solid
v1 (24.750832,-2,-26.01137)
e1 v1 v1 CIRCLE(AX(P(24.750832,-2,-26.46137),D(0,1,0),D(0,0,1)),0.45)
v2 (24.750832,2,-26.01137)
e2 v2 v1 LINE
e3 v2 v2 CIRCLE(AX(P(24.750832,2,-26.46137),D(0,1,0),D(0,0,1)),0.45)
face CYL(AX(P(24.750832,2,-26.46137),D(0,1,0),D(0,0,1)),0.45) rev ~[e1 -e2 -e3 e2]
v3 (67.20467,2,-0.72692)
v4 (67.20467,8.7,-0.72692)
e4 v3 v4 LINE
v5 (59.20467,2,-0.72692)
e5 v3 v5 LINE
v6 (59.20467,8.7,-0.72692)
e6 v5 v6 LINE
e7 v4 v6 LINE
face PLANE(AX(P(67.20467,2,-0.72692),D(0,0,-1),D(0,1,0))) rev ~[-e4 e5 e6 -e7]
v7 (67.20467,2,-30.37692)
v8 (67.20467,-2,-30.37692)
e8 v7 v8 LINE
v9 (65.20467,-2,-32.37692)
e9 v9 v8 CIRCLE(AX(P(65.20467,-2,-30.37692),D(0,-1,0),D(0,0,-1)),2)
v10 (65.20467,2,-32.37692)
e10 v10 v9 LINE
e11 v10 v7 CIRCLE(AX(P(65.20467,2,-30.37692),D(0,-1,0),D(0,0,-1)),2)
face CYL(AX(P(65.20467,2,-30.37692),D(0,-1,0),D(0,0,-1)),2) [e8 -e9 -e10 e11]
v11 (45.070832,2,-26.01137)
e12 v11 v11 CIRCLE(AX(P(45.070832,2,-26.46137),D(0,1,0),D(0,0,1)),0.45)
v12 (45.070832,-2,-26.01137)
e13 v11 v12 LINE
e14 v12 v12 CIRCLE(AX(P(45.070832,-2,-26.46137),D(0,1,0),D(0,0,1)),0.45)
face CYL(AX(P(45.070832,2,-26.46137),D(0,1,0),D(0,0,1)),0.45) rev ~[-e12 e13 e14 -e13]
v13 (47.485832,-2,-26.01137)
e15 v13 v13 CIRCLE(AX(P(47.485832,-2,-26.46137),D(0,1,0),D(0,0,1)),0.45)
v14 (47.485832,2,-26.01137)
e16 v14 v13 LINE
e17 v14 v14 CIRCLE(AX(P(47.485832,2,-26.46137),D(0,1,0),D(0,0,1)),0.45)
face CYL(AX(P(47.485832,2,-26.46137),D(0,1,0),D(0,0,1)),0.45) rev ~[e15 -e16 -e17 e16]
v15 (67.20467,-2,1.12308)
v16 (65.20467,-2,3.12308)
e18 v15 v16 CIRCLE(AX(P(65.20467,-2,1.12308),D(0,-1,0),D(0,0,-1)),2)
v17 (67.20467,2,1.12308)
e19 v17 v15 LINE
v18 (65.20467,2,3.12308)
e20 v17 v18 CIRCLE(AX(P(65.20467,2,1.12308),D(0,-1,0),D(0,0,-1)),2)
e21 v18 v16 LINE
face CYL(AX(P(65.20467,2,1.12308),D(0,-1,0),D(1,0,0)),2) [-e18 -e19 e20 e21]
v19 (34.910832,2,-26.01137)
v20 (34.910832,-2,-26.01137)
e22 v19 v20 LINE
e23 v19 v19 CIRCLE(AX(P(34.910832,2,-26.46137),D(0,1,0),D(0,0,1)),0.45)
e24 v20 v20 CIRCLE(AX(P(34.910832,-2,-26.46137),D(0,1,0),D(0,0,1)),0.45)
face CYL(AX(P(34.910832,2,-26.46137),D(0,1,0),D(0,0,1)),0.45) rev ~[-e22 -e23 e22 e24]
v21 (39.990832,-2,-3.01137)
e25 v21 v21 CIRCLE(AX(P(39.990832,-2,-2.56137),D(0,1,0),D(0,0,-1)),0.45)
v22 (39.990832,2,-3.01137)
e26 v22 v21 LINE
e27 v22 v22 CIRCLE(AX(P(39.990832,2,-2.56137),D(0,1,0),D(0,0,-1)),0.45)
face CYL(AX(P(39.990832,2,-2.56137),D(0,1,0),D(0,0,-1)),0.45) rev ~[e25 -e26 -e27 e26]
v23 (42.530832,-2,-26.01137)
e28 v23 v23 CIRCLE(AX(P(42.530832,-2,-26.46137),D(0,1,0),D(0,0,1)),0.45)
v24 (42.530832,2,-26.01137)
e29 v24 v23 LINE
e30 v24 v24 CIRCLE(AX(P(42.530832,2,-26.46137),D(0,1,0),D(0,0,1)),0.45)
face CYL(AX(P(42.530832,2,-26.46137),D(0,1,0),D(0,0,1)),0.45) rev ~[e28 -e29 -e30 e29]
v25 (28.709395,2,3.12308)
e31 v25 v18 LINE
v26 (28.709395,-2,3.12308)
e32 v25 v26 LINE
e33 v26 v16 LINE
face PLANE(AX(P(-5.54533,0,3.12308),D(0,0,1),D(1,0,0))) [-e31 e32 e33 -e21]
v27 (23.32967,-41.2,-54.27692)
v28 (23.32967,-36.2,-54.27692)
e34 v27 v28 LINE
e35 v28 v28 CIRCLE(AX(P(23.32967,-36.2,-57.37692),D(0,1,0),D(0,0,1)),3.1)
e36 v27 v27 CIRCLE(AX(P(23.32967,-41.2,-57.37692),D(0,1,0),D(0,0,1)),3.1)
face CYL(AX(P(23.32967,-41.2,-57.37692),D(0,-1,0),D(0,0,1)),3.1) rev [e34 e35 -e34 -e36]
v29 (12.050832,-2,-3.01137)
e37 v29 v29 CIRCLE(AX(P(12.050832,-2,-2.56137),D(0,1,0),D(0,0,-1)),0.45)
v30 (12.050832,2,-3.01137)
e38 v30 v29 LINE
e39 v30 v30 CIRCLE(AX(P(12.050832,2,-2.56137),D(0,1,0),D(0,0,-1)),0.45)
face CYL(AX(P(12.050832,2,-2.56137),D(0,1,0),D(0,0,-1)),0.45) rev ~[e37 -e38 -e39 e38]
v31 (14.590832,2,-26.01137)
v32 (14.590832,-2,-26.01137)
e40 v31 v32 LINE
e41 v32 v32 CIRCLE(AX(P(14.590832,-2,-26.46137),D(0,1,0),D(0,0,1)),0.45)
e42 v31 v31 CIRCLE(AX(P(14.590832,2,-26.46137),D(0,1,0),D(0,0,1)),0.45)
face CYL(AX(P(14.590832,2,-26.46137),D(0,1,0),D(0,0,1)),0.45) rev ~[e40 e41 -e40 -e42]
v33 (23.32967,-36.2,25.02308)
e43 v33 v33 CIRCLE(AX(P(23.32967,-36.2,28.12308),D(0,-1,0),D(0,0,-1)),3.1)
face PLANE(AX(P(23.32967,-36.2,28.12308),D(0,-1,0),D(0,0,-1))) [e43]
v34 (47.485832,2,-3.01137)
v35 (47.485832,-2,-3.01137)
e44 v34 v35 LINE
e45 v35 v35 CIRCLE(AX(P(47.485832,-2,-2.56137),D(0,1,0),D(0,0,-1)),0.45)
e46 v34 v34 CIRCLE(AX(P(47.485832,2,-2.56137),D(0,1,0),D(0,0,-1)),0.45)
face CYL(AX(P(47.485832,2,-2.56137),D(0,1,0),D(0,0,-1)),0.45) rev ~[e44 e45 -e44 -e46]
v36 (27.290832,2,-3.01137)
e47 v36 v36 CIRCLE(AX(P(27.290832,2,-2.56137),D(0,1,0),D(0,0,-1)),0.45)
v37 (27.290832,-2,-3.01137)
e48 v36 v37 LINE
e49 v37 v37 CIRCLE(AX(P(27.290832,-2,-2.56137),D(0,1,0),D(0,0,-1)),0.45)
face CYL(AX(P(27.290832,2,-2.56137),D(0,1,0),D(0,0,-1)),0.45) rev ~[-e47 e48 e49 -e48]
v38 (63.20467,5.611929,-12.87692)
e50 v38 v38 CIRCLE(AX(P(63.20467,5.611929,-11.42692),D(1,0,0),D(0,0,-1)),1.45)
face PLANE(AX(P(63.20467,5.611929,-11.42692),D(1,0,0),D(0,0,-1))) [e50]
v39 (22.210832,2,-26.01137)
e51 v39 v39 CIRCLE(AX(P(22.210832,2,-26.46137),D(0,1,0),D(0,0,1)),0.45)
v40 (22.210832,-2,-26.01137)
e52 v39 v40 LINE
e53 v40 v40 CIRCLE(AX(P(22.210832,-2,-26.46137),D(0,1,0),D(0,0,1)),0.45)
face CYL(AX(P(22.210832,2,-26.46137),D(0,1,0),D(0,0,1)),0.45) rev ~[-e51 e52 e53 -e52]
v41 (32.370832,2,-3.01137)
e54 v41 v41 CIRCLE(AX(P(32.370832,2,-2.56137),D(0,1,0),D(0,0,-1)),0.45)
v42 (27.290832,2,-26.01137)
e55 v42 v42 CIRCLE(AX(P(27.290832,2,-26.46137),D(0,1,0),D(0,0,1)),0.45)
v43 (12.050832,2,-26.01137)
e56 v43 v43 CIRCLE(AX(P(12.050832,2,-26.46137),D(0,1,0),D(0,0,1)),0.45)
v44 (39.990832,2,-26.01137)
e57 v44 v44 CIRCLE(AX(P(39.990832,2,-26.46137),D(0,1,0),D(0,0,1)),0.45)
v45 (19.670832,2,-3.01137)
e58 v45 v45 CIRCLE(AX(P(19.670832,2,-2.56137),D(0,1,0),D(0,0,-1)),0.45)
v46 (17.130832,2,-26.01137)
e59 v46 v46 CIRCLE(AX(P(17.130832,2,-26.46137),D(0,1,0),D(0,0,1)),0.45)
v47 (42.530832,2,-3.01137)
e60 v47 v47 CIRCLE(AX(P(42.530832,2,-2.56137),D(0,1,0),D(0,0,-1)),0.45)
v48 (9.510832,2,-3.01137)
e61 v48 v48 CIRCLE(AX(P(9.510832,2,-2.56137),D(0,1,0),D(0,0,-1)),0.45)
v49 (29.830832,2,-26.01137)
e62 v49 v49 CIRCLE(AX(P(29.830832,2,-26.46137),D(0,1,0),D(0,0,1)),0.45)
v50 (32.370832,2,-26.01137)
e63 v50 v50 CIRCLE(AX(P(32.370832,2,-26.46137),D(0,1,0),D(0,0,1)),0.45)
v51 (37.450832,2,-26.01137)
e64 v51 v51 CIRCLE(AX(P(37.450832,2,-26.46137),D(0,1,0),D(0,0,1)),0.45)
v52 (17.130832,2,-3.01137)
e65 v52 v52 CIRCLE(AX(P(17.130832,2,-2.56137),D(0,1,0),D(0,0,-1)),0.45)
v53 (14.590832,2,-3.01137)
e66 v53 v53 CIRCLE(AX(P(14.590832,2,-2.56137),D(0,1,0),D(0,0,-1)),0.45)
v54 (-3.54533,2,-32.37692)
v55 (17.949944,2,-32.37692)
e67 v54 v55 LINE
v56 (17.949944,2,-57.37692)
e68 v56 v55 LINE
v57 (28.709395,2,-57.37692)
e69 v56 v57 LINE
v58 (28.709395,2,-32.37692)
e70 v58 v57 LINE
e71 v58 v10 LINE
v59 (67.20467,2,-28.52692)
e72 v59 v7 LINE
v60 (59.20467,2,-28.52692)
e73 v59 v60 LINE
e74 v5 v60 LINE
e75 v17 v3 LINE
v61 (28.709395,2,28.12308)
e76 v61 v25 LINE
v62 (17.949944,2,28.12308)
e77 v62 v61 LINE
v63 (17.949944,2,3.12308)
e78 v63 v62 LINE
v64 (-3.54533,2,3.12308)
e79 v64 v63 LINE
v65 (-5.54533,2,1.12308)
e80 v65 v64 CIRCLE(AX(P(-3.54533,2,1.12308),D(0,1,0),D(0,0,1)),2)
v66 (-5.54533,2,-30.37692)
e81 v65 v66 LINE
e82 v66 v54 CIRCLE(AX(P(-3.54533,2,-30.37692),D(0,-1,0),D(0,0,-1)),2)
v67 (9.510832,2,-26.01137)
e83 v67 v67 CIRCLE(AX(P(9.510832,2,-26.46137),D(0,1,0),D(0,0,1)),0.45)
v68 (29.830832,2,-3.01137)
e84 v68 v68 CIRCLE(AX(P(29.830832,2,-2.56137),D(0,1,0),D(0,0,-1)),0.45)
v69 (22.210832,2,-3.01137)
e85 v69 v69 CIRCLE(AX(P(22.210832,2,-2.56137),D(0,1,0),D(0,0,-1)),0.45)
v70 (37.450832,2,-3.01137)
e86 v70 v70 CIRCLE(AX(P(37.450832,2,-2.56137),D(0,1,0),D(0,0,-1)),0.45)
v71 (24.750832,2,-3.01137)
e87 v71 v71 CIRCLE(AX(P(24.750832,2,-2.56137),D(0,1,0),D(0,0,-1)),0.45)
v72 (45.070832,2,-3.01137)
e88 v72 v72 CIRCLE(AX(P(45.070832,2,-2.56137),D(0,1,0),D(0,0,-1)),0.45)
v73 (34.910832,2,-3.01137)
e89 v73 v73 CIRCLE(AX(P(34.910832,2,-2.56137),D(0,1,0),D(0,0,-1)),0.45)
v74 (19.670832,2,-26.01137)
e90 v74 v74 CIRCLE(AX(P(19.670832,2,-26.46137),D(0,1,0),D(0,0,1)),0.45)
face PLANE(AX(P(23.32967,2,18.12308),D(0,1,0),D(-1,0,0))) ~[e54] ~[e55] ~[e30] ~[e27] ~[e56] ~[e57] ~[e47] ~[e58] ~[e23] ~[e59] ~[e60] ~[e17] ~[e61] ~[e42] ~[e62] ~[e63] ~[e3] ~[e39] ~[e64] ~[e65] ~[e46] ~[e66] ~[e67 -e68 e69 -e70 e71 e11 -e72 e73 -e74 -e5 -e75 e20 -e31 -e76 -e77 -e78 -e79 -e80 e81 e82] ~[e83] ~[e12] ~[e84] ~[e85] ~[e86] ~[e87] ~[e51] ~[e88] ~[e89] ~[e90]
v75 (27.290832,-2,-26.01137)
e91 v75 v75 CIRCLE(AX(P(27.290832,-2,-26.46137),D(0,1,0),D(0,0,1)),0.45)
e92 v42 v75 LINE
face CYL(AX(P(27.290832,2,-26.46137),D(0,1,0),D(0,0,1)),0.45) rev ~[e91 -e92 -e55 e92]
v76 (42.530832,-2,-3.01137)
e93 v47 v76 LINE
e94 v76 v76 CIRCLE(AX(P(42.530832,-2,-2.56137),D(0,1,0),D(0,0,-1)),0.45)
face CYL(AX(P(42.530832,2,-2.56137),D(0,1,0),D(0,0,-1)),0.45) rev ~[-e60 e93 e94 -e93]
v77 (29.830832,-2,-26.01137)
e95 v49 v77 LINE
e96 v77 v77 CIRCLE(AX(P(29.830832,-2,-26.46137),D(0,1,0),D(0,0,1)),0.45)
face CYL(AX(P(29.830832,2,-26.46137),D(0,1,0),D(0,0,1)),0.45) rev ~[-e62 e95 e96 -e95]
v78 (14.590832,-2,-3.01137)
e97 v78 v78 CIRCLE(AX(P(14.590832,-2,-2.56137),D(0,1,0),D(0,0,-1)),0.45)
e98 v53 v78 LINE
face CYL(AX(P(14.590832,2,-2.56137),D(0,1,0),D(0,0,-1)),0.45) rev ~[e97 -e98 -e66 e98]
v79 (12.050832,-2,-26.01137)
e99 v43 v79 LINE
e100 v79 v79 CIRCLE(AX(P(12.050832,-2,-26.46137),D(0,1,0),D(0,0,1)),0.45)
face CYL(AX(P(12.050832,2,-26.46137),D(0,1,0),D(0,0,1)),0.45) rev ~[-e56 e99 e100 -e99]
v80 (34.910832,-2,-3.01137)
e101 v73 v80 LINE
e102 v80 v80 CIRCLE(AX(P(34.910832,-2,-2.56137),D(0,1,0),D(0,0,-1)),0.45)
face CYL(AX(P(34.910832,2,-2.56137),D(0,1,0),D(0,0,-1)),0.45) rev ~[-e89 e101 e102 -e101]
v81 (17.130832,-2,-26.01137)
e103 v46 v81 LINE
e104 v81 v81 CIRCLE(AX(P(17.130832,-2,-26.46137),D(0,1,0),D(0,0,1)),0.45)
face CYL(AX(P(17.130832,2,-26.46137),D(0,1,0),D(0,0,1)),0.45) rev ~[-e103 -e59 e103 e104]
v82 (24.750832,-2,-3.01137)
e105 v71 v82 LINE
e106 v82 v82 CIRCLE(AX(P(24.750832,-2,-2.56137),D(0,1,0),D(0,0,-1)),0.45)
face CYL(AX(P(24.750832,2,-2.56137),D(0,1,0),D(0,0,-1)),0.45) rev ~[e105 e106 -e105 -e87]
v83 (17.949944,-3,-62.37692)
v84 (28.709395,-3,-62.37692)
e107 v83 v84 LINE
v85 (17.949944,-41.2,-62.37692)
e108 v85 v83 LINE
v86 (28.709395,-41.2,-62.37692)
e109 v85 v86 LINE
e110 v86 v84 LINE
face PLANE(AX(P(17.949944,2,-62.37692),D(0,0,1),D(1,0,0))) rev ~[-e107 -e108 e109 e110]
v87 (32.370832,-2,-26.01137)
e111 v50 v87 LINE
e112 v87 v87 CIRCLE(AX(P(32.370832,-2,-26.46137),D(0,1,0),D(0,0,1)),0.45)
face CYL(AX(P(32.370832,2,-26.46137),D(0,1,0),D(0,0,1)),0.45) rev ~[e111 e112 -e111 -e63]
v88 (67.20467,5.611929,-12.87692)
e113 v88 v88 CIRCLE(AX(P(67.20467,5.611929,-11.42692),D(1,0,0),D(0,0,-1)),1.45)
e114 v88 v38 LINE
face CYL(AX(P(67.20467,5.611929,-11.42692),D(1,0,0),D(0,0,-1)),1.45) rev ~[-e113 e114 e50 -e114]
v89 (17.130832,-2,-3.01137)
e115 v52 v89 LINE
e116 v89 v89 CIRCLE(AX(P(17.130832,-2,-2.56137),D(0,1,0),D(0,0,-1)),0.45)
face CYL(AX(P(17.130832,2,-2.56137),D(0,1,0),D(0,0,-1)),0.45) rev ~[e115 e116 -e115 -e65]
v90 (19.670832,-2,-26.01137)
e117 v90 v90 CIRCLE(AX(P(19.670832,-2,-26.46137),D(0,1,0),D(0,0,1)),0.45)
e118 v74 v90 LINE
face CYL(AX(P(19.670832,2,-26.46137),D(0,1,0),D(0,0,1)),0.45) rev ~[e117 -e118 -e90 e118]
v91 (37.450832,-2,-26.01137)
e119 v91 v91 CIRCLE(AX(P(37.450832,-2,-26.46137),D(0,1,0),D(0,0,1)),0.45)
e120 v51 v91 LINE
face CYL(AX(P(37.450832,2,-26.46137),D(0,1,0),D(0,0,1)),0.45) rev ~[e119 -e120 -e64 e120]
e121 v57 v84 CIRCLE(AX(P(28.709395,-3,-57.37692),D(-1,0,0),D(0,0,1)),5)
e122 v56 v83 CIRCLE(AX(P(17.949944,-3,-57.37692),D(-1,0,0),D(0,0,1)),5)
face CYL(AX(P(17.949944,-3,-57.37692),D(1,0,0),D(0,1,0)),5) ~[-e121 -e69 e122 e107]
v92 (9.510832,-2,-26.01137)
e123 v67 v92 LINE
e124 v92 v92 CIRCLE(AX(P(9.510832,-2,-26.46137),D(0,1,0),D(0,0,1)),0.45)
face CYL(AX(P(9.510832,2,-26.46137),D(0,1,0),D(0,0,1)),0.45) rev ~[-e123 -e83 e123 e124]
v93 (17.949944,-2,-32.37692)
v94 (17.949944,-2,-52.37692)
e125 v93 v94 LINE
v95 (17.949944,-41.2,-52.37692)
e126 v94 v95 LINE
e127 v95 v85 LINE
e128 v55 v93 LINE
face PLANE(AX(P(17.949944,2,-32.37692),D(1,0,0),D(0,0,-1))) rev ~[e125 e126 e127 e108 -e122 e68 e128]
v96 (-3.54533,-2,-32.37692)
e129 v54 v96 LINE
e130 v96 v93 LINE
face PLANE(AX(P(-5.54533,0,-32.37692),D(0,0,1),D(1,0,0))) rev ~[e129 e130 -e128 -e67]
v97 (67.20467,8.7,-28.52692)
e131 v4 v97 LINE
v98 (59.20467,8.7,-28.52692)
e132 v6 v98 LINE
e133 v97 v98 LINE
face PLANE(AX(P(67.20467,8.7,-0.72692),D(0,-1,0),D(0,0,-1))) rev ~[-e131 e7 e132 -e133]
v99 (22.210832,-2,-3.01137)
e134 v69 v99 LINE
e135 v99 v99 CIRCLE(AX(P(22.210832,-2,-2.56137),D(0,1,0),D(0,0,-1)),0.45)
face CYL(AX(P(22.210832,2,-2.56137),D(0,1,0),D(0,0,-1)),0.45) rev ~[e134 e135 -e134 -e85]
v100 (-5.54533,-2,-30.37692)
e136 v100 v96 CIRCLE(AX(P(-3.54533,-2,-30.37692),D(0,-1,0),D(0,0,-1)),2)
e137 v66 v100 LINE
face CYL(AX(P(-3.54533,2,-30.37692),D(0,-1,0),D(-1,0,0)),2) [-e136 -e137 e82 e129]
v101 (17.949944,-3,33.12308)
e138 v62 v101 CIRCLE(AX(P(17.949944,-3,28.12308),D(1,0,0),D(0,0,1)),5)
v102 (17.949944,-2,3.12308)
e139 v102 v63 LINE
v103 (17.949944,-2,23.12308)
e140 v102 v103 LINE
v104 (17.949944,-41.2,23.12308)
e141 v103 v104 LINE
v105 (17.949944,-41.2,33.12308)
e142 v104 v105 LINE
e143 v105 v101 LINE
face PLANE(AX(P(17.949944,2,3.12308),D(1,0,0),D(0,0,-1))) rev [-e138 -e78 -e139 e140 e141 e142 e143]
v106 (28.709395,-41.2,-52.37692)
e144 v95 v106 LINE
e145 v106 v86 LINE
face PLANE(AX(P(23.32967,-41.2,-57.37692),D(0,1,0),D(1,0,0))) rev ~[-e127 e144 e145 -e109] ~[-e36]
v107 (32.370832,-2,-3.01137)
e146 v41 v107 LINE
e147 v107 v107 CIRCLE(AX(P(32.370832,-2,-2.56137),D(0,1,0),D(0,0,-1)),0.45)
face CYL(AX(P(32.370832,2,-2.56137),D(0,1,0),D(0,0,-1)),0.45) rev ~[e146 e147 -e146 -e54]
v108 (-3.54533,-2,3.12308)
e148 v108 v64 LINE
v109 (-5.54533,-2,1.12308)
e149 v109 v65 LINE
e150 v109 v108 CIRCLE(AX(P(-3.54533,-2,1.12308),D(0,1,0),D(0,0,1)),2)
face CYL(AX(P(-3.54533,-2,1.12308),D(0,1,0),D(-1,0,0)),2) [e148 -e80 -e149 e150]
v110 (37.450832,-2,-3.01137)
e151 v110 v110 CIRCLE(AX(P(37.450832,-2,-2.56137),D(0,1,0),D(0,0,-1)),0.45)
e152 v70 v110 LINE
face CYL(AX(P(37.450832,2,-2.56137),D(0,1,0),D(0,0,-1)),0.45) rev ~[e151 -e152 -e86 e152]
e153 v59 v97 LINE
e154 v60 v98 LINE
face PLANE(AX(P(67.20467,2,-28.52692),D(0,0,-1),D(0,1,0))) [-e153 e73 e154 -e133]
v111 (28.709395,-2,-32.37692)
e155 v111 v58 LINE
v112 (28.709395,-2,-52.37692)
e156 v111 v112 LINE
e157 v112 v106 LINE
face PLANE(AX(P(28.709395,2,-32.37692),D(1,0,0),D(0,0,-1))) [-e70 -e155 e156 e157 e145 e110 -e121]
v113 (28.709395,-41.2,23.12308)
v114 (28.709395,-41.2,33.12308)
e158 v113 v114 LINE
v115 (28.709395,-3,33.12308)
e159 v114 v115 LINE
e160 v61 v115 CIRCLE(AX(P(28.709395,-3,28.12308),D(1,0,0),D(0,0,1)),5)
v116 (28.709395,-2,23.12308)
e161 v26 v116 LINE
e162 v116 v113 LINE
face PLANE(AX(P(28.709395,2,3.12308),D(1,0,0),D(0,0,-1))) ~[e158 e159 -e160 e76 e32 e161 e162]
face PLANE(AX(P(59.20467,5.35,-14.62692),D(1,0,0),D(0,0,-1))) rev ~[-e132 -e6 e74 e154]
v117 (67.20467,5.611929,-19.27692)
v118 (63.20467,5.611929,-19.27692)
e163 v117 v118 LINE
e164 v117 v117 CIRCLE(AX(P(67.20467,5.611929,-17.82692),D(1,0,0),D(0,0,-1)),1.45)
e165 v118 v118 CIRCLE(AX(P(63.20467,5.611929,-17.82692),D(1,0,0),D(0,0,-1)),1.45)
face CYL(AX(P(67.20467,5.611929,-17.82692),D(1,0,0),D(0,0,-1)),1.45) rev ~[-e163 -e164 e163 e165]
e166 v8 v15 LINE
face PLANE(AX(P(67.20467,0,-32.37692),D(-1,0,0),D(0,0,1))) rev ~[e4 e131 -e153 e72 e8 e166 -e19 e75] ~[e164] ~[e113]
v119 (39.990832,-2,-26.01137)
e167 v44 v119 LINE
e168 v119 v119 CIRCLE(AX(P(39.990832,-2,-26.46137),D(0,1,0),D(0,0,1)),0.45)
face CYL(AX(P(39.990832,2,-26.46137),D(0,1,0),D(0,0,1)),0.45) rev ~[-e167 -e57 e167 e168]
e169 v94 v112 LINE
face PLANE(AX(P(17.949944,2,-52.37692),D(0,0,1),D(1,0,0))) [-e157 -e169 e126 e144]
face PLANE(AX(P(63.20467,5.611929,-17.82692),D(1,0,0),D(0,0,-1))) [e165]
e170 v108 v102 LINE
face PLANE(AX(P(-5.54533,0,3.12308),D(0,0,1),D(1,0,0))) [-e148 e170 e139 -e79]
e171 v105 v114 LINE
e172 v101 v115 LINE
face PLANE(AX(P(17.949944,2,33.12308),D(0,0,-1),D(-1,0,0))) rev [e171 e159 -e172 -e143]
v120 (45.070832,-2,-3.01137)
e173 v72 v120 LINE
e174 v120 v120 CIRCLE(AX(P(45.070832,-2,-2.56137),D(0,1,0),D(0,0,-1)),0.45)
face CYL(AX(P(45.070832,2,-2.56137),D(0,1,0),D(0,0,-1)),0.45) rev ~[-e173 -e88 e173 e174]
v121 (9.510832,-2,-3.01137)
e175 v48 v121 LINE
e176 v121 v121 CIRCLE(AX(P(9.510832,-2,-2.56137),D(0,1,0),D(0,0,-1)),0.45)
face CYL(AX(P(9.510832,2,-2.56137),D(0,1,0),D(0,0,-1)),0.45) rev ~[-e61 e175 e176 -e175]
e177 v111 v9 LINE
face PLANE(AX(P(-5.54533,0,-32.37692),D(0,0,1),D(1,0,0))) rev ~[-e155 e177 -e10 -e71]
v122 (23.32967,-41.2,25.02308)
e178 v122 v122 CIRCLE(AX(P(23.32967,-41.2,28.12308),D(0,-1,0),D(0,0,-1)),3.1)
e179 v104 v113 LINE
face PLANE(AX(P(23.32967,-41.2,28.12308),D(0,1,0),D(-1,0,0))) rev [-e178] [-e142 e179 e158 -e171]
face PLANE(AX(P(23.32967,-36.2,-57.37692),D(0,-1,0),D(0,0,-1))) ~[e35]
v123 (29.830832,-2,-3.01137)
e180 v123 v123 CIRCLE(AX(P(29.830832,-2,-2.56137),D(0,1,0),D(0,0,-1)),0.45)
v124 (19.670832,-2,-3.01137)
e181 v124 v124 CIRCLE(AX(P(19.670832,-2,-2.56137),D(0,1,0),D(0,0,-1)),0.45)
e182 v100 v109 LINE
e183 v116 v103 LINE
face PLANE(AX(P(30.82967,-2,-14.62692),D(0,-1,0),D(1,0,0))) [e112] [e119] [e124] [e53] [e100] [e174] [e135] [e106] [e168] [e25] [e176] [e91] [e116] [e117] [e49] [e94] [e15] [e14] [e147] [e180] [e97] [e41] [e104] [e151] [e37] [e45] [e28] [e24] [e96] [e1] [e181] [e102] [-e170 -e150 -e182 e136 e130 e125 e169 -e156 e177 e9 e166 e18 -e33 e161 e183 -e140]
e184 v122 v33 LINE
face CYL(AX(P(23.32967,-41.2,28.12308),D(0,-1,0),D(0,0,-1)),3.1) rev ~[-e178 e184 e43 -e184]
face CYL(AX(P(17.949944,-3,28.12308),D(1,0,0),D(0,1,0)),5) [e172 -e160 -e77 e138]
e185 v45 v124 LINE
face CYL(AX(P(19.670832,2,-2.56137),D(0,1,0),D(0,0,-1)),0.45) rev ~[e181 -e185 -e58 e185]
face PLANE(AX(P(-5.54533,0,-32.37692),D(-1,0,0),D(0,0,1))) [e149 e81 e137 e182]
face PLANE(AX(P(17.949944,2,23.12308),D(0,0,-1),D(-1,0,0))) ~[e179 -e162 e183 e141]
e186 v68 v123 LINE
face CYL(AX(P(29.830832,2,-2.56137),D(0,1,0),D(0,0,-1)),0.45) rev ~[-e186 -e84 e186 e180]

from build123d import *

# Parameters (mm, degrees)
SKETCH1_W           = 72.75
SKETCH1_H           = 35.5
BOSS_EXTRUDE1_DEPTH = 2
SKETCH7_W           = 10.759451316
SKETCH7_H           = 30
BOSS_EXTRUDE4_DEPTH = 4
SKETCH10_W          = 10.759451316
SKETCH10_H          = 10
BOSS_EXTRUDE5_DEPTH = 43.2
FILLET2_R           = 5
SKETCH12_W          = 72.75
SKETCH12_H          = 35.5
BOSS_EXTRUDE6_DEPTH = 2
FILLET4_R           = 2
SKETCH16_W          = 27.8
SKETCH16_H          = 6.7
BOSS_EXTRUDE8_DEPTH = 8
SKETCH19_R          = 1.45
CUT_EXTRUDE2_DEPTH  = 4
SKETCH20_R          = 0.45
CUT_EXTRUDE3_DEPTH  = 102.358708347
SKETCH21_R          = 3.1
CUT_EXTRUDE4_DEPTH  = 5


with BuildPart() as part:
    # Sketch1 → Boss-Extrude1 (new body)
    with BuildSketch(Plane(origin=(0, 0, 0), x_dir=(1, 0, 0), z_dir=(0, 1, 0))):
        with Locations((30.829669563, 14.626919984)):
            Rectangle(SKETCH1_W, SKETCH1_H)
    extrude(amount=BOSS_EXTRUDE1_DEPTH)

    # Sketch7 → Boss-Extrude4 (add)
    with BuildSketch(Plane(origin=(0, 2, 0), x_dir=(1, 0, 0), z_dir=(0, 1, 0))):
        with Locations((23.329669563, 47.376919984)):
            Rectangle(SKETCH7_W, SKETCH7_H)
    boss_extrude4 = extrude(amount=-BOSS_EXTRUDE4_DEPTH)

    # Mirror3: Boss-Extrude4 across plane
    add(boss_extrude4.mirror(Plane.XY.offset(-14.626919984)))

    # Sketch10 → Boss-Extrude5 (add)
    with BuildSketch(Plane(origin=(0, 2, 0), x_dir=(1, 0, 0), z_dir=(0, 1, 0))):
        with Locations((23.329669563, 57.376919984)):
            Rectangle(SKETCH10_W, SKETCH10_H)
    boss_extrude5 = extrude(amount=-BOSS_EXTRUDE5_DEPTH)

    # Mirror4: Boss-Extrude5 across plane
    add(boss_extrude5.mirror(Plane.XY.offset(-14.626919984)))

    # Fillet2
    fillet2_edges = [part.edges().sort_by_distance(p)[0] for p in [
        (23.329669563, 2, -62.376919984),
        (23.329669563, 2, 33.123080016),
    ]]
    fillet(fillet2_edges, radius=FILLET2_R)

    # Sketch12 → Boss-Extrude6 (add)
    with BuildSketch(Plane.XZ):
        with Locations((30.829669563, -14.626919984)):
            Rectangle(SKETCH12_W, SKETCH12_H)
    extrude(amount=BOSS_EXTRUDE6_DEPTH)

    # Fillet4
    fillet4_edges = [part.edges().sort_by_distance(p)[0] for p in [
        (67.204669563, 0, 3.123080016),
        (-5.545330437, 0, 3.123080016),
        (-5.545330437, 0, -32.376919984),
        (67.204669563, 0, -32.376919984),
    ]]
    fillet(fillet4_edges, radius=FILLET4_R)

    # Sketch16 → Boss-Extrude8 (add)
    with BuildSketch(Plane(origin=(67.204669563, 0, 0), x_dir=(0, 0, -1), z_dir=(1, 0, 0))):
        with Locations((14.626919984, 5.35)):
            Rectangle(SKETCH16_W, SKETCH16_H)
    extrude(amount=-BOSS_EXTRUDE8_DEPTH)

    # Sketch19 → Cut-Extrude2 (cut)
    with BuildSketch(Plane(origin=(67.204669563, 0, 0), x_dir=(0, 0, -1), z_dir=(1, 0, 0))):
        with Locations((17.826919984, 5.611929266)):
            Circle(SKETCH19_R)
        with Locations((11.426919984, 5.611929266)):
            Circle(SKETCH19_R)
    extrude(amount=-CUT_EXTRUDE2_DEPTH, mode=Mode.SUBTRACT)

    # Sketch20 → Cut-Extrude3 (cut, through all)
    with BuildSketch(Plane(origin=(0, 2, 0), x_dir=(1, 0, 0), z_dir=(0, 1, 0))):
        with Locations(Location((9.510831856, 26.461370287, 0), (0, 0, 270))):
            Circle(SKETCH20_R)
        with Locations(Location((12.050831856, 26.461370287, 0), (0, 0, 270))):
            Circle(SKETCH20_R)
        with Locations(Location((17.130831856, 26.461370287, 0), (0, 0, 270))):
            Circle(SKETCH20_R)
        with Locations(Location((47.485831856, 26.461370287, 0), (0, 0, 270))):
            Circle(SKETCH20_R)
        with Locations(Location((45.070831856, 26.461370287, 0), (0, 0, 270))):
            Circle(SKETCH20_R)
        with Locations(Location((37.450831856, 26.461370287, 0), (0, 0, 270))):
            Circle(SKETCH20_R)
        with Locations(Location((29.830831856, 26.461370287, 0), (0, 0, 270))):
            Circle(SKETCH20_R)
        with Locations(Location((14.590831856, 26.461370287, 0), (0, 0, 270))):
            Circle(SKETCH20_R)
        with Locations(Location((42.530831856, 26.461370287, 0), (0, 0, 270))):
            Circle(SKETCH20_R)
        with Locations(Location((39.990831856, 26.461370287, 0), (0, 0, 270))):
            Circle(SKETCH20_R)
        with Locations(Location((34.910831856, 26.461370287, 0), (0, 0, 270))):
            Circle(SKETCH20_R)
        with Locations(Location((32.370831856, 26.461370287, 0), (0, 0, 270))):
            Circle(SKETCH20_R)
        with Locations(Location((27.290831856, 26.461370287, 0), (0, 0, 270))):
            Circle(SKETCH20_R)
        with Locations(Location((24.750831856, 26.461370287, 0), (0, 0, 270))):
            Circle(SKETCH20_R)
        with Locations(Location((22.210831856, 26.461370287, 0), (0, 0, 270))):
            Circle(SKETCH20_R)
        with Locations(Location((19.670831856, 26.461370287, 0), (0, 0, 270))):
            Circle(SKETCH20_R)
        with Locations(Location((9.510831856, 2.561370287, 0), (0, 0, 90))):
            Circle(SKETCH20_R)
        with Locations(Location((12.050831856, 2.561370287, 0), (0, 0, 90))):
            Circle(SKETCH20_R)
        with Locations(Location((14.590831856, 2.561370287, 0), (0, 0, 90))):
            Circle(SKETCH20_R)
        with Locations(Location((17.130831856, 2.561370287, 0), (0, 0, 90))):
            Circle(SKETCH20_R)
        with Locations(Location((19.670831856, 2.561370287, 0), (0, 0, 90))):
            Circle(SKETCH20_R)
        with Locations(Location((22.210831856, 2.561370287, 0), (0, 0, 90))):
            Circle(SKETCH20_R)
        with Locations(Location((24.750831856, 2.561370287, 0), (0, 0, 90))):
            Circle(SKETCH20_R)
        with Locations(Location((29.830831856, 2.561370287, 0), (0, 0, 90))):
            Circle(SKETCH20_R)
        with Locations(Location((32.370831856, 2.561370287, 0), (0, 0, 90))):
            Circle(SKETCH20_R)
        with Locations(Location((34.910831856, 2.561370287, 0), (0, 0, 90))):
            Circle(SKETCH20_R)
        with Locations(Location((27.290831856, 2.561370287, 0), (0, 0, 90))):
            Circle(SKETCH20_R)
        with Locations(Location((39.990831856, 2.561370287, 0), (0, 0, 90))):
            Circle(SKETCH20_R)
        with Locations(Location((37.450831856, 2.561370287, 0), (0, 0, 90))):
            Circle(SKETCH20_R)
        with Locations(Location((42.530831856, 2.561370287, 0), (0, 0, 90))):
            Circle(SKETCH20_R)
        with Locations(Location((47.485831856, 2.561370287, 0), (0, 0, 90))):
            Circle(SKETCH20_R)
        with Locations(Location((45.070831856, 2.561370287, 0), (0, 0, 90))):
            Circle(SKETCH20_R)
    extrude(amount=-CUT_EXTRUDE3_DEPTH, mode=Mode.SUBTRACT)

    # Sketch21 → Cut-Extrude4 (cut)
    with BuildSketch(Plane.XZ.offset(41.2)):
        with Locations(Location((23.329669563, 28.123080016, 0), (0, 0, 270))):
            Circle(SKETCH21_R)
    cut_extrude4 = extrude(amount=-CUT_EXTRUDE4_DEPTH, mode=Mode.SUBTRACT)

    # Mirror5: Cut-Extrude4 across plane
    add(cut_extrude4.mirror(Plane.XY.offset(-14.626919984)), mode=Mode.SUBTRACT)


solid = part.part
